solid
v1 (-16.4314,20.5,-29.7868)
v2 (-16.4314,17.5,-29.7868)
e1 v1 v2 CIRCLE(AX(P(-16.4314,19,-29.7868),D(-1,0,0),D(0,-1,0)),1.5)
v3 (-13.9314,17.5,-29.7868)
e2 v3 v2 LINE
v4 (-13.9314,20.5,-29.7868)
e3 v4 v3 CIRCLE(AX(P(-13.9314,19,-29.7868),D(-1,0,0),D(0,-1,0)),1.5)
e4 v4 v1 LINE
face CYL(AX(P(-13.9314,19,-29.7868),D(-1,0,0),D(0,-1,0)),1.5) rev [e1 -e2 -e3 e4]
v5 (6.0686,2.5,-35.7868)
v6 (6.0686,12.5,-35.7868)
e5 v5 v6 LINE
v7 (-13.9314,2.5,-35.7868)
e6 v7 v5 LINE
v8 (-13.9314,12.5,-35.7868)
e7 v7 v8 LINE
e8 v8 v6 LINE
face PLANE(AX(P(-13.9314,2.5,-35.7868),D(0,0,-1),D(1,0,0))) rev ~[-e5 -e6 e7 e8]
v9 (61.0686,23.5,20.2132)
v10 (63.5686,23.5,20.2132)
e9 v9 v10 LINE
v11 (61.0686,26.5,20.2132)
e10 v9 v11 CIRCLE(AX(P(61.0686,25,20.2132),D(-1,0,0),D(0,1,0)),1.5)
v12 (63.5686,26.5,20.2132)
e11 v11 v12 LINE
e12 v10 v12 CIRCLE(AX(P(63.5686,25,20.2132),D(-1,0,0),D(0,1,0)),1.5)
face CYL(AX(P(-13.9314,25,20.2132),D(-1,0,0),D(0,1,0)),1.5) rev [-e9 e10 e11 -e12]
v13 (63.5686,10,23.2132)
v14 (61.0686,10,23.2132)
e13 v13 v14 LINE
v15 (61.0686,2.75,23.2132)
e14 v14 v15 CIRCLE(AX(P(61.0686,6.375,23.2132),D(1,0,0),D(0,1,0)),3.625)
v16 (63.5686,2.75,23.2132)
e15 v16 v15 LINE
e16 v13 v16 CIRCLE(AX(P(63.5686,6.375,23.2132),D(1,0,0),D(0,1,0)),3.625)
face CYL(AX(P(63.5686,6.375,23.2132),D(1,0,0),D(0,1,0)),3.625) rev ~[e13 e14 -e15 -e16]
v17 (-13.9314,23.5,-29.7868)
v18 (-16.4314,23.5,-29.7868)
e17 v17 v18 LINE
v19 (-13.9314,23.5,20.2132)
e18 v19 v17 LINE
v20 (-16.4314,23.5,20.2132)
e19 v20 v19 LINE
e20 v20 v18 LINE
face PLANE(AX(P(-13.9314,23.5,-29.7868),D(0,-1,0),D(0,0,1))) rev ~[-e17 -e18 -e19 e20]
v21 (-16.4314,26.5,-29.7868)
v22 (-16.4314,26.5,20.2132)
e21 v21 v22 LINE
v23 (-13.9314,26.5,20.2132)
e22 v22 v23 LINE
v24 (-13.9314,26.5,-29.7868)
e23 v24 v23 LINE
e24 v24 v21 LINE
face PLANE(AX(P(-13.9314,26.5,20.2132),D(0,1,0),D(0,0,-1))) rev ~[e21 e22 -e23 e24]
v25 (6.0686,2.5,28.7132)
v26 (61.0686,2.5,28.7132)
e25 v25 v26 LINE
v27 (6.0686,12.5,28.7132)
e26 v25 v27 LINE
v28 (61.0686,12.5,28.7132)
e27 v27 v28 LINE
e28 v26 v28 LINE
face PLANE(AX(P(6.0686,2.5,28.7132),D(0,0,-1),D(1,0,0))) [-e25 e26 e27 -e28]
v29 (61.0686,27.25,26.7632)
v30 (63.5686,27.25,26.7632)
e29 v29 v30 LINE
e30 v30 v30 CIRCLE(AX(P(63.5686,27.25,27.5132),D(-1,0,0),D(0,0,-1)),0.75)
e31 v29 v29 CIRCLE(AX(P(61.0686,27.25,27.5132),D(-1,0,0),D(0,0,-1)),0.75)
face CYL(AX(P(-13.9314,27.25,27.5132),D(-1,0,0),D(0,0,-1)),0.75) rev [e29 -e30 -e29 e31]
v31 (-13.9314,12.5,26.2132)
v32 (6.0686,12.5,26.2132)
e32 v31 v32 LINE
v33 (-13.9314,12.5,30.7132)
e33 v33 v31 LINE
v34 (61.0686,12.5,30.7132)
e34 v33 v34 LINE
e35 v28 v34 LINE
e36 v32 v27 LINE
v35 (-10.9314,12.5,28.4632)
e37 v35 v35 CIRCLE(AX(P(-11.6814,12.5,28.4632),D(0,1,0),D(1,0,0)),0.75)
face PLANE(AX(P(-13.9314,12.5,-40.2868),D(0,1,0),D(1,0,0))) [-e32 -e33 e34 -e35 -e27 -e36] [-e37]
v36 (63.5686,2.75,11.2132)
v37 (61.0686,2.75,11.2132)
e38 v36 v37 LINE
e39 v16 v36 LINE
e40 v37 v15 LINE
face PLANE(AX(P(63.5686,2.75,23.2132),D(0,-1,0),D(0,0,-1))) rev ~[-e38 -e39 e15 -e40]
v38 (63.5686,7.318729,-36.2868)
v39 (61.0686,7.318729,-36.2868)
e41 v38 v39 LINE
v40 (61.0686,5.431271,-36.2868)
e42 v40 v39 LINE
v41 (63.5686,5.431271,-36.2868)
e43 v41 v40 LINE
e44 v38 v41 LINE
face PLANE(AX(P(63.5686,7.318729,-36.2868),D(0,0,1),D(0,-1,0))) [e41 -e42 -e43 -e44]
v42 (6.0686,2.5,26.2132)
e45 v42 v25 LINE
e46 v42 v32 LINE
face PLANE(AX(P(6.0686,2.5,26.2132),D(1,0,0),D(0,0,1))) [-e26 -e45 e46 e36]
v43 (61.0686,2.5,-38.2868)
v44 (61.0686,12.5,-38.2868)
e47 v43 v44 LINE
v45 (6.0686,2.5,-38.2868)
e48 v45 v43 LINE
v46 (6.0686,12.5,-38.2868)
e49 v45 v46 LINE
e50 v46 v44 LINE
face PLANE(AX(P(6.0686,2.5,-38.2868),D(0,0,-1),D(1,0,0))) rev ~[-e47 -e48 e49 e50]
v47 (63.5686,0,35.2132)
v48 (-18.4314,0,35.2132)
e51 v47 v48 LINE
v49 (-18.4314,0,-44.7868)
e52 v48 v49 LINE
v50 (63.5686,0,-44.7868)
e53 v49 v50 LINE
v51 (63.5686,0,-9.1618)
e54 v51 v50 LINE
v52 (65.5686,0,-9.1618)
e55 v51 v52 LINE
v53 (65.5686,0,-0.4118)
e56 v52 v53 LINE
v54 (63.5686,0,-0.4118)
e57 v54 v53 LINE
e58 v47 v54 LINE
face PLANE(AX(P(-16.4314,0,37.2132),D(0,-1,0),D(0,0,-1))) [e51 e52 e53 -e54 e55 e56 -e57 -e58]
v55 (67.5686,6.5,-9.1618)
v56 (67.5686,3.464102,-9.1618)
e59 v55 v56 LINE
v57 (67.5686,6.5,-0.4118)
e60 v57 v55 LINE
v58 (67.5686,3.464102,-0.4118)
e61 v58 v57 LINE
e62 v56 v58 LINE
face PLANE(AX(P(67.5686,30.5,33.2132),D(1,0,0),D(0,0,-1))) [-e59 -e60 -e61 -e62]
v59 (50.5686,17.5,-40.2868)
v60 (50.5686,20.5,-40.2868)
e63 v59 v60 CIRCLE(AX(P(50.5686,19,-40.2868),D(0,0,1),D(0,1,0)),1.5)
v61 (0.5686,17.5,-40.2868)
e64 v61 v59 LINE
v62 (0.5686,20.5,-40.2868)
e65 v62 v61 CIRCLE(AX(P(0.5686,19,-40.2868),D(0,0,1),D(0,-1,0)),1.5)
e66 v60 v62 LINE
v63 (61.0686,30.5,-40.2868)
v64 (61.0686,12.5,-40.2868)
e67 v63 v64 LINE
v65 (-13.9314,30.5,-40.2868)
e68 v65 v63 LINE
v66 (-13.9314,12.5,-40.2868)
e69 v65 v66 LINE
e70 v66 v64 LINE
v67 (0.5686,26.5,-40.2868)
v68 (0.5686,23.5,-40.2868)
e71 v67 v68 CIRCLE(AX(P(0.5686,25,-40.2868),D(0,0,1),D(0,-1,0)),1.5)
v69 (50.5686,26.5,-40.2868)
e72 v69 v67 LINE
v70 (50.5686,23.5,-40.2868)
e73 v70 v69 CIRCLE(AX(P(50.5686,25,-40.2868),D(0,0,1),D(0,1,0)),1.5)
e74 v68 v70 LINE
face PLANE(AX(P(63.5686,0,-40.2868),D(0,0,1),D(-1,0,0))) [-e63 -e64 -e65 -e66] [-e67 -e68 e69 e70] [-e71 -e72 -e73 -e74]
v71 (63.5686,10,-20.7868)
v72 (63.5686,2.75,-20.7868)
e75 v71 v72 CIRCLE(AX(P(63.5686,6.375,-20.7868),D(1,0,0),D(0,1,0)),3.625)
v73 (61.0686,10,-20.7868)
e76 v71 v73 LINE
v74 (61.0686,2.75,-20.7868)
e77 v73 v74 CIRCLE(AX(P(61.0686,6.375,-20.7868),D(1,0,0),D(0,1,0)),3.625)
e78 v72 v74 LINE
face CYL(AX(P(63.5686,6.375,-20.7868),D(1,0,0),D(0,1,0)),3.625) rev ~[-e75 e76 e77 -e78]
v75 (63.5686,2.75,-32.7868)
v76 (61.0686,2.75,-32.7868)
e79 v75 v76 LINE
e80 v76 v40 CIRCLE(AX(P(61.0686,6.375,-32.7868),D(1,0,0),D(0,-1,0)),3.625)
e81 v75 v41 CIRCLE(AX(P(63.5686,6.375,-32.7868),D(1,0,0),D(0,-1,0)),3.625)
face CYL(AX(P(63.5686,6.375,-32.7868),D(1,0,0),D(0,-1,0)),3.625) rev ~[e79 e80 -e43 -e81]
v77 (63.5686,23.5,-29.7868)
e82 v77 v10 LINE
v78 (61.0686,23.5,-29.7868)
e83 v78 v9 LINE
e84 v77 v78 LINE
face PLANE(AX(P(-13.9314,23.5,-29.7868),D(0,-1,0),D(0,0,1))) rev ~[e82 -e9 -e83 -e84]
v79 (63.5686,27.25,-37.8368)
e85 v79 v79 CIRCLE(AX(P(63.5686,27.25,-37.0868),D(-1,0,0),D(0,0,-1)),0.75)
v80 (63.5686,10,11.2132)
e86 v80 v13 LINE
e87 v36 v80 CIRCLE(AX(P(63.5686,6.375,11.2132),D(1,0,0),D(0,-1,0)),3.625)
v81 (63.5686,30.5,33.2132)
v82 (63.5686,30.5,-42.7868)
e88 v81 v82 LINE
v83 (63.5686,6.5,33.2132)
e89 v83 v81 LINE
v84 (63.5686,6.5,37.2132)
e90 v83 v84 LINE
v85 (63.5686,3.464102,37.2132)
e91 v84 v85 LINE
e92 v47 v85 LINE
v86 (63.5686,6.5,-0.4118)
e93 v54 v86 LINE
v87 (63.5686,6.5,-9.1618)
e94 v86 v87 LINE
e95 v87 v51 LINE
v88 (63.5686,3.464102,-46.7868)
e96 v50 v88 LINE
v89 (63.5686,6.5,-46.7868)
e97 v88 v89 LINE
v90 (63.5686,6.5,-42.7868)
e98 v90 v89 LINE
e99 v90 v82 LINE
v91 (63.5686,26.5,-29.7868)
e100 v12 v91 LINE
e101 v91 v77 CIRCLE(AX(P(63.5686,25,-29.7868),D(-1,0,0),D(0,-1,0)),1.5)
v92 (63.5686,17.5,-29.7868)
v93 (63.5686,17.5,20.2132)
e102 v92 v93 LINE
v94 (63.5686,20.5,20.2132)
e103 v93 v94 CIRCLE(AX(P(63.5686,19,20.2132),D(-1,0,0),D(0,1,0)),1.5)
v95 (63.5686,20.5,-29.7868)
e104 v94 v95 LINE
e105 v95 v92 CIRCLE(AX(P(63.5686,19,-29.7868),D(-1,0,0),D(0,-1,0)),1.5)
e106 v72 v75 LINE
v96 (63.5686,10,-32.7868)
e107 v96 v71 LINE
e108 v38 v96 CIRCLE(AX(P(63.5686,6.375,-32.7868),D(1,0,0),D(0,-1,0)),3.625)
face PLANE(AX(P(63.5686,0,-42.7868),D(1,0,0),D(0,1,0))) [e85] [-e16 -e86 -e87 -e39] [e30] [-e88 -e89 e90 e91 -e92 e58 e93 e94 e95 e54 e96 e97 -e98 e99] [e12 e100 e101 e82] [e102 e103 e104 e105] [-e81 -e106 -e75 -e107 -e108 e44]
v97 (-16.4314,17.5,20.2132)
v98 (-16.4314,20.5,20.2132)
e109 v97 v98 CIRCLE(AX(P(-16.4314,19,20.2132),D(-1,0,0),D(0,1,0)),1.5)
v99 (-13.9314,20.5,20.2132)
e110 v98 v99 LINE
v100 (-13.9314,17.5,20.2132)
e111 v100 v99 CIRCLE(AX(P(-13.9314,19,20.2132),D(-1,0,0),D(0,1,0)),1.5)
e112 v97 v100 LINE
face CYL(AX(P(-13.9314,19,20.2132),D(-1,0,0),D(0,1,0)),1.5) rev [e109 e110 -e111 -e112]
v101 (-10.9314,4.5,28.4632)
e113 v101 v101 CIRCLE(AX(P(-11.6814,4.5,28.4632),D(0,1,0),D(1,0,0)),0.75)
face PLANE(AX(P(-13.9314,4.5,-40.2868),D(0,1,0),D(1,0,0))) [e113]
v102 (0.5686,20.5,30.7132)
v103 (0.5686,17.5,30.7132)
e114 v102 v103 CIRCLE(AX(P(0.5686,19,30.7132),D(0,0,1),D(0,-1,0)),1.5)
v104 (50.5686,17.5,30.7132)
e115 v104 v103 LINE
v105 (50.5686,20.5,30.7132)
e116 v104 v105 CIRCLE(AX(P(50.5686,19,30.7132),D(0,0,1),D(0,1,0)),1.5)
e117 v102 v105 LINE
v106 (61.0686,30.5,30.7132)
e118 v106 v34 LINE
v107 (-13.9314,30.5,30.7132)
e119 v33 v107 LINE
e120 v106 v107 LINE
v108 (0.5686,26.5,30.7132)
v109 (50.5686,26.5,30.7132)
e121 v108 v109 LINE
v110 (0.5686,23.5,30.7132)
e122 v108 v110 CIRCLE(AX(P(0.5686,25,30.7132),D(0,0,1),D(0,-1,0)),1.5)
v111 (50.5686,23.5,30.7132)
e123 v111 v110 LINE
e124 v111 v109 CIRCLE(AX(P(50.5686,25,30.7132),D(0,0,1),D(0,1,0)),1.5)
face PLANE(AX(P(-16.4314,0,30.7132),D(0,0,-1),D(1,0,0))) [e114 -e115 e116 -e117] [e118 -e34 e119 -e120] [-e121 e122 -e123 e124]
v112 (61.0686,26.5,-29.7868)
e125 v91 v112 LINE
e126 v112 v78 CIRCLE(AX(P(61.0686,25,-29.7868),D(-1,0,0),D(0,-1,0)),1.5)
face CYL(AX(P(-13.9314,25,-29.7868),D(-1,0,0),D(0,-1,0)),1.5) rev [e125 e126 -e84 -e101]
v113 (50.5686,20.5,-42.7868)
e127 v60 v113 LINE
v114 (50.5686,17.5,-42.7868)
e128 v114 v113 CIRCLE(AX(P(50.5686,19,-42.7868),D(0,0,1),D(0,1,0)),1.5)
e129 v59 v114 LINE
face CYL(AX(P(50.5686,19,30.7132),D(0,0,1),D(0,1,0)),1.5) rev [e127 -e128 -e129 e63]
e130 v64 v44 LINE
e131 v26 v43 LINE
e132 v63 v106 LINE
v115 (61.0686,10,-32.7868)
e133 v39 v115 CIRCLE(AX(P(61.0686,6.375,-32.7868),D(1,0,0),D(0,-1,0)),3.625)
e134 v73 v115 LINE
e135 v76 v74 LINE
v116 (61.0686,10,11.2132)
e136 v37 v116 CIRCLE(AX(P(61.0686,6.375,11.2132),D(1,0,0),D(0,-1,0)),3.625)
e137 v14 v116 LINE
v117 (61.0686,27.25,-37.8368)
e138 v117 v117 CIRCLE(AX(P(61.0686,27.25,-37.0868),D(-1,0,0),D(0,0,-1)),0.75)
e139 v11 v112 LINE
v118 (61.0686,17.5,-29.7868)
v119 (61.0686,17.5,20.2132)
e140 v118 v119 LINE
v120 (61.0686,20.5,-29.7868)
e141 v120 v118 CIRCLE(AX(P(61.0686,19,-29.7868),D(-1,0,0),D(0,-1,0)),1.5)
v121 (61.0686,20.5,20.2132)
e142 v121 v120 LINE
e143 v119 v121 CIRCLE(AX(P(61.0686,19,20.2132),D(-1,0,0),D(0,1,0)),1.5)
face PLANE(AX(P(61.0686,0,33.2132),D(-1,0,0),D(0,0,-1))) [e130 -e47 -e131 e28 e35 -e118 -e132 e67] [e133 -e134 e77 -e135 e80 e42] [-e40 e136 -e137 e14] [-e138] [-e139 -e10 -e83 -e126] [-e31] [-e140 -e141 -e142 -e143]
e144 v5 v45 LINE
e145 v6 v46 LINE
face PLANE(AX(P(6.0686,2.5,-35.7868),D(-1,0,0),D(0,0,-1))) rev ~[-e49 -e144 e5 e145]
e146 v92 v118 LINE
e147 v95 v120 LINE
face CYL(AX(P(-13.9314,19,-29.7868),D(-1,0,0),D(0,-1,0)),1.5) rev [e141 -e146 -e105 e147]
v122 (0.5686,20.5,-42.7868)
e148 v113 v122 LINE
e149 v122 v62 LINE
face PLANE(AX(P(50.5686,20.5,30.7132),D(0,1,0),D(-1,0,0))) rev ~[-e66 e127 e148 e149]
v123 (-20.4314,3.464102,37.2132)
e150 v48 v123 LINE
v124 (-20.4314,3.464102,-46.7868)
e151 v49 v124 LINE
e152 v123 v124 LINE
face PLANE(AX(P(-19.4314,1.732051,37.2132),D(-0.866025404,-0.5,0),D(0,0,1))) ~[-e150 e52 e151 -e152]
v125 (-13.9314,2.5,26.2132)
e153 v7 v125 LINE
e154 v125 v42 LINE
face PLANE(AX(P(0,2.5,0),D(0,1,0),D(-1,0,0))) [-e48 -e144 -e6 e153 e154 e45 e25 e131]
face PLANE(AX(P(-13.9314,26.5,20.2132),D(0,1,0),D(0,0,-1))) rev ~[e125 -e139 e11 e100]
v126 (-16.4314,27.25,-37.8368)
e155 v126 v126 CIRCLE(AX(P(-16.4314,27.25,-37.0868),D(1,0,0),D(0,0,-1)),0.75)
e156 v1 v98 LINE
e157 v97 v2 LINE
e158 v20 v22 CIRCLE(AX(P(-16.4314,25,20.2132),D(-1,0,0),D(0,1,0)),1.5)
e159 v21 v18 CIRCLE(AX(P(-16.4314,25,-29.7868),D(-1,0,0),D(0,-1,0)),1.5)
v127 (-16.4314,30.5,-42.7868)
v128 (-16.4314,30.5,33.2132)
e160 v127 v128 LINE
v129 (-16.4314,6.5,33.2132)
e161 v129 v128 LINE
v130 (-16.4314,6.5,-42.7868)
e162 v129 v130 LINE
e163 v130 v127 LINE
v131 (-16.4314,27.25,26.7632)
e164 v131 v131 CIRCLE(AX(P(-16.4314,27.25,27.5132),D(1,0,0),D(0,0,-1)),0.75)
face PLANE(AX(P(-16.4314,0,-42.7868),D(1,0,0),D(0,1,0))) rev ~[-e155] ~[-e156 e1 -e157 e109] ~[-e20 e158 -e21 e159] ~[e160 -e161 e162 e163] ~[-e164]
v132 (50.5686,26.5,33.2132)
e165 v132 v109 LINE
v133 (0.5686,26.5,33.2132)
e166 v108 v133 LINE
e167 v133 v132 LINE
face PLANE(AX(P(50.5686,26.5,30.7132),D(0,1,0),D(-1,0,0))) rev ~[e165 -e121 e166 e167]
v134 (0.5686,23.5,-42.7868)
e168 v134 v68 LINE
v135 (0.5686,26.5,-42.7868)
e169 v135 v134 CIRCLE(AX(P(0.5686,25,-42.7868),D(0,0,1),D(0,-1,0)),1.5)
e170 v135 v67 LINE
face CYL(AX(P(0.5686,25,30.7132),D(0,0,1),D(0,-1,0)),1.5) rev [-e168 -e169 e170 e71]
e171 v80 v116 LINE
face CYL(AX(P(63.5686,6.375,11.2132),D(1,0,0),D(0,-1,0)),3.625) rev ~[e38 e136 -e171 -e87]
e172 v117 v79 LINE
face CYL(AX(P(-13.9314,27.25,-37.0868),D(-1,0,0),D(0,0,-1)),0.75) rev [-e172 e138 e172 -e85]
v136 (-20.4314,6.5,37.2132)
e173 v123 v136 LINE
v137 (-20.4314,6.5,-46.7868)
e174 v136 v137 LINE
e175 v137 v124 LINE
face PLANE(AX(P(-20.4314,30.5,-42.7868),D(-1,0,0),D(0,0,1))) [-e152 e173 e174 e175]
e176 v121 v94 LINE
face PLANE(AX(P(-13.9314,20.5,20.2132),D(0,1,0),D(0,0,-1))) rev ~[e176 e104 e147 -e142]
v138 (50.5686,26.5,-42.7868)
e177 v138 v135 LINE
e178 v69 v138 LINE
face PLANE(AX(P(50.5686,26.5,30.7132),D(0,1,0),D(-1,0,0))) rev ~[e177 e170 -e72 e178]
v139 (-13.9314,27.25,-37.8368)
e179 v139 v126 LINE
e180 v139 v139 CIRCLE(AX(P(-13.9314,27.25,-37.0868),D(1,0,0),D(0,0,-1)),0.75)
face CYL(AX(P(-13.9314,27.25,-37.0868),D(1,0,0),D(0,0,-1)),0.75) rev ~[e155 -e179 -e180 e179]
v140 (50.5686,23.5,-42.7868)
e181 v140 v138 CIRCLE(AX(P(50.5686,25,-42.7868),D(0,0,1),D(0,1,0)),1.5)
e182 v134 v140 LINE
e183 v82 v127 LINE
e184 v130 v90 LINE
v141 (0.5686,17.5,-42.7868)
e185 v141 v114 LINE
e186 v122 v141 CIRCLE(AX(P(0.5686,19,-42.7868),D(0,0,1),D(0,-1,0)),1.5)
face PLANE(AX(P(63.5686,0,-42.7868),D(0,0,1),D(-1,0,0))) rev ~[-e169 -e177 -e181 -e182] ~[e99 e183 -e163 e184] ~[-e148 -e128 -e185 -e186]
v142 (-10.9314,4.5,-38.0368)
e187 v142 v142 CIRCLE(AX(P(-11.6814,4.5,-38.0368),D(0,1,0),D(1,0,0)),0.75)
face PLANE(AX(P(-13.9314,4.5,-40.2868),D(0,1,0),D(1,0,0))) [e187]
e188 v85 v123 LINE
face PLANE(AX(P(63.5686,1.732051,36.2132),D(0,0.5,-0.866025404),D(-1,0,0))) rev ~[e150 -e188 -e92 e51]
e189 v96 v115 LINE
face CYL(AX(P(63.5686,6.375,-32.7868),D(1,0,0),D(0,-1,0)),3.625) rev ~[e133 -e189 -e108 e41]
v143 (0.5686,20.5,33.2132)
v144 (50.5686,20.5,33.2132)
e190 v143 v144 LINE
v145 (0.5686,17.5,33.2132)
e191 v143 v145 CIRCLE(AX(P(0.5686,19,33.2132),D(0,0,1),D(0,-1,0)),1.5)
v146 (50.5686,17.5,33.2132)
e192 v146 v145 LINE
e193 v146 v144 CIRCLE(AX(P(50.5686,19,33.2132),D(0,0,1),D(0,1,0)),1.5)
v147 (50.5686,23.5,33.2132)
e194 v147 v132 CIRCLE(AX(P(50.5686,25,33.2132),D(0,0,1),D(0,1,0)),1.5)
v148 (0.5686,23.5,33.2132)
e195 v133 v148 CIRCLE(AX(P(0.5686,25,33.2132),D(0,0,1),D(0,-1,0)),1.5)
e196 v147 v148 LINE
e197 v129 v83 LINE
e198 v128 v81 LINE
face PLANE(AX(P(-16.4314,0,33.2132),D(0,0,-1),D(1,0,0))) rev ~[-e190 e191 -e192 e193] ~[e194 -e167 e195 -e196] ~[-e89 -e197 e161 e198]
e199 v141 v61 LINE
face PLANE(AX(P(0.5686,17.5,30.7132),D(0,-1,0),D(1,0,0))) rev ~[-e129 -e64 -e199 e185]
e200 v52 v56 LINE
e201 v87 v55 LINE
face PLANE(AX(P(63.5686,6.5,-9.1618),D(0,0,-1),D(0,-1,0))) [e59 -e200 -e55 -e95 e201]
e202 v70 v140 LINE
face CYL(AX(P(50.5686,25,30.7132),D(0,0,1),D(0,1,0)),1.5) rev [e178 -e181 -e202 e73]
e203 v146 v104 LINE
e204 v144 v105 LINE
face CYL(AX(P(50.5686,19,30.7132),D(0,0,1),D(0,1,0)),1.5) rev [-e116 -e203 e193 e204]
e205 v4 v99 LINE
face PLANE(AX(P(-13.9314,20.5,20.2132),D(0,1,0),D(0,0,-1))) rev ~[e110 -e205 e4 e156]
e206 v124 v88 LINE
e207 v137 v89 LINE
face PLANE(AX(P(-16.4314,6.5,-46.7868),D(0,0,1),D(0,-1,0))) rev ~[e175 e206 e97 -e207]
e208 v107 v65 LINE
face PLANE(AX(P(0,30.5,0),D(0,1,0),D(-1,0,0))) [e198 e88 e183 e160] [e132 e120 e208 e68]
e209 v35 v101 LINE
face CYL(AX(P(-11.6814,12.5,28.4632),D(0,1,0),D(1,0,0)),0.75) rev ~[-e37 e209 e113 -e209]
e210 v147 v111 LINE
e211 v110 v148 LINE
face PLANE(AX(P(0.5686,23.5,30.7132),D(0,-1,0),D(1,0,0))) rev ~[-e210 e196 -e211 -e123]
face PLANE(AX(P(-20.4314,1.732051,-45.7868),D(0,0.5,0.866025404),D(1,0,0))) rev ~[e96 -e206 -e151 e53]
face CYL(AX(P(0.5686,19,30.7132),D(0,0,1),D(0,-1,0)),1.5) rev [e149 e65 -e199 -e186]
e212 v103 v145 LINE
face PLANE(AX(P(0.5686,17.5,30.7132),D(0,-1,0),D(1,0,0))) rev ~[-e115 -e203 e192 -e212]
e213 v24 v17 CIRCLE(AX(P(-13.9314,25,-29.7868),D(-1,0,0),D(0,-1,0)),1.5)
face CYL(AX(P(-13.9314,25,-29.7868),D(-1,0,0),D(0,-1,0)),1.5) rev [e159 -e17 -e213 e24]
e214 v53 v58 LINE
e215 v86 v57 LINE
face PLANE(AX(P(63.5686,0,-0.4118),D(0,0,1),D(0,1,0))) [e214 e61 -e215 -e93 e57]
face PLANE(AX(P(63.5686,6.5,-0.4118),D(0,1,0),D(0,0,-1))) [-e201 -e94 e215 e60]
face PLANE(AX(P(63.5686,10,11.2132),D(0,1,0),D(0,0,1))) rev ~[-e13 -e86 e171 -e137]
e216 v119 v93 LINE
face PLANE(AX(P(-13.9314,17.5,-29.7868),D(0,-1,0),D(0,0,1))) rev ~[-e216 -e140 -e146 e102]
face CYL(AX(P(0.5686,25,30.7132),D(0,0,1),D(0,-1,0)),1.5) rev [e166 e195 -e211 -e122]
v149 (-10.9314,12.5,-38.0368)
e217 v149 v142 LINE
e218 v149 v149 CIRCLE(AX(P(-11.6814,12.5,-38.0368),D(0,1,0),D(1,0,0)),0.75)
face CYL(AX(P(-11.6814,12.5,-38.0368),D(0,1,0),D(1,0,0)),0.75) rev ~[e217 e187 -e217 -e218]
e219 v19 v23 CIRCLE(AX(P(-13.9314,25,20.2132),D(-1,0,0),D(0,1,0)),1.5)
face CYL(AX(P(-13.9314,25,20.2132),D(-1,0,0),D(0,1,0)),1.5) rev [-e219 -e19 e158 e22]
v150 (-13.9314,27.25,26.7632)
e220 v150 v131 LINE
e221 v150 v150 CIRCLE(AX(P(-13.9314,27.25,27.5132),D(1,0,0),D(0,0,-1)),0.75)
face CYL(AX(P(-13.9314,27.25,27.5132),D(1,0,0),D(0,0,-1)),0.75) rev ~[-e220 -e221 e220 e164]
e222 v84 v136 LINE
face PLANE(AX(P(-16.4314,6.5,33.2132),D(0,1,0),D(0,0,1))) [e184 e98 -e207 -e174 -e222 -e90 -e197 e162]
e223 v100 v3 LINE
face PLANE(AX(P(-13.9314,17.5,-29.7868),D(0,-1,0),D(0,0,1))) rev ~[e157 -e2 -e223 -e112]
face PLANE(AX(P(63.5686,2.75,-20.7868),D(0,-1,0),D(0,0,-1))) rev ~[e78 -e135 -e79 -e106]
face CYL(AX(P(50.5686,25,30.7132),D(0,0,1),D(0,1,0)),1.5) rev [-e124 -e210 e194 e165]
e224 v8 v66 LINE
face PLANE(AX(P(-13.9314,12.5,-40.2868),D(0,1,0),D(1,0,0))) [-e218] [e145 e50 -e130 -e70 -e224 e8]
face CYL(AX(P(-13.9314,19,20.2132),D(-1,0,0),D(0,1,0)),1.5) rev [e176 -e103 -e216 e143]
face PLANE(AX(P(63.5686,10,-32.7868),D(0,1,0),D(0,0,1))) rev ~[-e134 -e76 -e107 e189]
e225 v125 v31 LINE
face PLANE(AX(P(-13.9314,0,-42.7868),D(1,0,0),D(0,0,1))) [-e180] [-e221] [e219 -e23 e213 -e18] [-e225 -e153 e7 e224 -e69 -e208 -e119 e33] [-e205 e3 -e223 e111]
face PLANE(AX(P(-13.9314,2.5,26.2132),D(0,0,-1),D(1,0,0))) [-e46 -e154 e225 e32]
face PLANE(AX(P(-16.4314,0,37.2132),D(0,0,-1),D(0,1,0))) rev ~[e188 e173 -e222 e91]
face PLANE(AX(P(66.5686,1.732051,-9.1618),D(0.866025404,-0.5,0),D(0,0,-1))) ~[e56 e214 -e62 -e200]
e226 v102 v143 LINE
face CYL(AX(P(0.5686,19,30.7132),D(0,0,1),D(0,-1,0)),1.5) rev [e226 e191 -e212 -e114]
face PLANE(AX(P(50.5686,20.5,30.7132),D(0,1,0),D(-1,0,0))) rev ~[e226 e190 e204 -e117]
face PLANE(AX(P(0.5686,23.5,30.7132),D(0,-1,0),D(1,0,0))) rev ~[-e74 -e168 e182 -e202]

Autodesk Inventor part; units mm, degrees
ref_plane "YZ Plane" through (0, 0, 0) normal (1, 0, 0) x (0, 1, 0)
ref_plane "XZ Plane" through (0, 0, 0) normal (0, 1, 0) x (-1, 0, 0)
ref_plane "XY Plane" through (0, 0, 0) normal (0, 0, 1) x (1, 0, 0)
sketch "Skizze1" plane through (0, 0, 0) normal (0, 1, 0) x (-1, 0, 0)
  line L0 (16.4314, 33.2132) -> (-63.5686, 33.2132)
  line L1 (-63.5686, 33.2132) -> (-63.5686, -42.7868)
  line L2 (-63.5686, -42.7868) -> (16.4314, -42.7868)
  line L3 (16.4314, -42.7868) -> (16.4314, 33.2132)
  point P0 (0, 0)
  dimension "d0" = 76
  dimension "d1" = 80
extrude "Extrusion1" add sketch "Skizze1" along normal blind 30.5
shell "Wandung1" thickness 2.5 removed faces 1 at (36.9019, 30.5, 7.8799)
sketch "Skizze2" plane through (-13.9314, 2.5, -40.2868) normal (0, 1, 0) x (1, 0, 0)
  line L0 (0, -71) -> (0, 0) projected
  line L1 (75, 0) -> (75, -71) projected
  line L2 (75, -71) -> (75, 0) projected
  line L3 (0, 0) -> (0, -71) projected
  line L4 (0, -71) -> (0, -66.5)
  line L5 (0, -66.5) -> (20, -66.5)
  line L6 (20, -66.5) -> (20, -69)
  line L7 (20, -69) -> (75, -69)
  line L8 (75, -69) -> (75, -71)
  line L9 (0, -71) -> (75, -71) projected
  line L10 (0, -35.5) -> (75, -35.5)
  line L11 (0, 0) -> (0, -4.5)
  line L12 (0, -4.5) -> (20, -4.5)
  line L13 (20, -4.5) -> (20, -2)
  line L14 (20, -2) -> (75, -2)
  line L15 (75, -2) -> (75, 0)
  line L16 (0, 0) -> (75, 0)
  point P0 (75, 0)
  point P1 (75, -2)
  point P2 (0, -4.5)
  point P3 (0, -66.5)
  dimension "d35" = 4.5
  dimension "d36" = 2
  dimension "d37" = 20
extrude "Extrusion2" add sketch "Skizze2" along normal blind 10 contours L0 L5 L6 L7 L1 L9 | L0 L16 L1 L14 L13 L12
sketch "Skizze3" plane through (-13.9314, 12.5, -40.2868) normal (0, 1, 0) x (1, 0, 0)
  circle A0 centre (2.25, -68.75) radius 0.75
  line L0 (2.25, -68.75) -> (2.25, -66.5) construction
  line L1 (2.25, -68.75) -> (0, -68.75) construction
  line L2 (0, -71) -> (0, 0) construction
  line L3 (75, 0) -> (75, -71) construction
  line L4 (75, -71) -> (0, -71) construction
  circle A1 centre (2.25, -2.25) radius 0.75
  line L5 (0, 0) -> (75, 0) projected
  point P0 (13.9314, -40.2868)
  dimension "d8" = 1.5
  dimension "d14" = 2.25
  dimension "d38" = 2.25
  dimension "d39" = 2.25
  dimension "d40" = 2.25
extrude "Extrusion3" cut sketch "Skizze3" against normal blind 8
sketch "Skizze6" plane through (63.5686, 0, 33.2132) normal (1, 0, 0) x (0, 0, -1)
  line L0 (69.5, 10) -> (69.5, 2.75)
  line L1 (0, 0) -> (76, 0) projected
  line L2 (76, 0) -> (76, 30.5) projected
  line L3 (0, 0) -> (0, 30.5) projected
  line L4 (10, 6.375) -> (22, 6.375) construction
  line L5 (10, 2.75) -> (22, 2.75)
  line L6 (22, 10) -> (10, 10)
  arc A0 (10, 10) -> (10, 2.75) centre (10, 6.375) ccw
  arc A1 (22, 2.75) -> (22, 10) centre (22, 6.375) ccw
  line L7 (54, 6.375) -> (66, 6.375) construction
  line L8 (54, 2.75) -> (66, 2.75)
  line L9 (66, 10) -> (54, 10)
  arc A2 (54, 10) -> (54, 2.75) centre (54, 6.375) ccw
  arc A3 (66, 2.75) -> (66, 10) centre (66, 6.375) ccw
  point P0 (33.2132, 0)
  point P1 (16, 6.375)
  point P2 (60, 6.375)
  point P3 (69.5, 5.4313)
  point P4 (69.5, 7.3187)
  dimension "d31" = 6.5
  dimension "d59" = 7.25
  dimension "d60" = 2.75
  dimension "d61" = 10
  dimension "d62" = 12
  dimension "d63" = 7.25
  dimension "d64" = 12
  dimension "d65" = 2.75
  dimension "d66" = 10
extrude "Extrusion6" cut sketch "Skizze6" against normal blind 10 contours L0 A3 L8 A2 L9 | A0 L6 A1 L5
sketch "Skizze8" plane through (-13.9314, 30.5, 30.7132) normal (1, 0, 0) x (0, 0, -1)
  circle A0 centre (3.2, -3.25) radius 0.75
  circle A1 centre (67.8, -3.25) radius 0.75
  line L0 (0, -18) -> (0, 0) projected
  line L1 (0, 0) -> (71, 0) projected
  line L2 (71, -18) -> (71, 0) projected
  line L3 (10.5, -5.5) -> (60.5, -5.5) construction
  line L4 (10.5, -4) -> (60.5, -4)
  line L5 (60.5, -7) -> (10.5, -7)
  arc A2 (10.5, -4) -> (10.5, -7) centre (10.5, -5.5) ccw
  arc A3 (60.5, -7) -> (60.5, -4) centre (60.5, -5.5) ccw
  line L6 (10.5, -11.5) -> (60.5, -11.5) construction
  line L7 (10.5, -10) -> (60.5, -10)
  line L8 (60.5, -13) -> (10.5, -13)
  arc A4 (10.5, -10) -> (10.5, -13) centre (10.5, -11.5) ccw
  arc A5 (60.5, -13) -> (60.5, -10) centre (60.5, -11.5) ccw
  point P0 (30.7132, -30.5)
  point P1 (35.5, -5.5)
  point P2 (35.5, -11.5)
  dimension "d43" = 1.5
  dimension "d44" = 3.2
  dimension "d45" = 3.25
  dimension "d46" = 3.2
  dimension "d47" = 3.25
  dimension "d50" = 3
  dimension "d51" = 4
  dimension "d53" = 50
  dimension "d54" = 3
  dimension "d55" = 50
  dimension "d56" = 35.5
  dimension "d57" = 3
  dimension "d58" = 35.5
extrude "Extrusion7" cut sketch "Skizze8" along normal through all both and the other way through all
sketch "Skizze9" plane through (61.0686, 30.5, 30.7132) normal (0, 0, -1) x (-1, 0, 0)
  line L0 (10.5, -5.5) -> (60.5, -5.5) construction
  line L1 (77.5, 0) -> (-2.5, 0) projected
  line L2 (10.5, -4) -> (60.5, -4)
  line L3 (60.5, -7) -> (10.5, -7)
  arc A0 (10.5, -4) -> (10.5, -7) centre (10.5, -5.5) ccw
  arc A1 (60.5, -7) -> (60.5, -4) centre (60.5, -5.5) ccw
  line L4 (0, -18) -> (0, 0) projected
  line L5 (10.5, -11.5) -> (60.5, -11.5) construction
  line L6 (10.5, -10) -> (60.5, -10)
  line L7 (60.5, -13) -> (10.5, -13)
  arc A2 (10.5, -10) -> (10.5, -13) centre (10.5, -11.5) ccw
  arc A3 (60.5, -13) -> (60.5, -10) centre (60.5, -11.5) ccw
  point P0 (61.0686, -30.5)
  point P1 (35.5, -5.5)
  point P2 (35.5, -11.5)
  dimension "d67" = 50
  dimension "d68" = 35.5
  dimension "d69" = 3
  dimension "d70" = 4
  dimension "d71" = 50
  dimension "d72" = 3
  dimension "d73" = 35.5
  dimension "d74" = 3
extrude "Extrusion8" cut sketch "Skizze9" along normal through all both and the other way through all
sketch "Skizze10" plane through (-16.4314, 0, 33.2132) normal (0, 0, 1) x (1, 0, 0)
  line L0 (0, 0) -> (0, 30.5) projected
  line L1 (80, 0) -> (0, 0)
  line L2 (0, 0) -> (0, 6.5)
  line L3 (0, 6.5) -> (80, 6.5)
  line L4 (80, 6.5) -> (80, 0)
  point P0 (16.4314, 0)
  dimension "d77" = 6.5
extrude "Extrusion9" add sketch "Skizze10" along normal blind 4
sketch "Skizze11" plane through (63.5686, 0, -42.7868) normal (0, 0, -1) x (-1, 0, 0)
  line L0 (0, 0) -> (0, 30.5) projected
  line L1 (80, 0) -> (80, 30.5) projected
  line L2 (0, 0) -> (80, 0)
  line L3 (80, 0) -> (80, 6.5)
  line L4 (80, 6.5) -> (0, 6.5)
  line L5 (0, 6.5) -> (0, 0)
  point P0 (63.5686, 0)
  point P1 (0, 6.5)
  dimension "d80" = 6.5
extrude "Extrusion10" add sketch "Skizze11" along normal blind 4
sketch "Skizze12" plane through (-16.4314, 30.5, -42.7868) normal (-1, 0, 0) x (0, 0, 1)
  line L0 (80, -30.5) -> (-4, -30.5) projected
  line L1 (76, -24) -> (80, -24) projected
  line L2 (-4, -30.5) -> (80, -30.5)
  line L3 (80, -30.5) -> (80, -24)
  line L4 (80, -24) -> (-4, -24)
  line L5 (-4, -24) -> (-4, -30.5)
  point P0 (42.7868, -30.5)
extrude "Extrusion11" add sketch "Skizze12" along normal blind 4
sketch "Skizze13" plane through (63.5686, 30.5, 33.2132) normal (1, 0, 0) x (0, 0, -1)
  line L0 (33.625, -24) -> (42.375, -24)
  line L1 (42.375, -24) -> (42.375, -30.5)
  line L2 (42.375, -30.5) -> (33.625, -30.5)
  line L3 (33.625, -30.5) -> (33.625, -24)
  line L4 (-4, -30.5) -> (80, -30.5) projected
  arc A0 (22, -27.75) -> (22, -20.5) centre (22, -24.125) ccw projected
  point P0 (33.2132, -30.5)
  dimension "d85" = 6.5
  dimension "d86" = 8.75
  dimension "d87" = 15.25
extrude "Extrusion12" add sketch "Skizze13" along normal blind 4
chamfer "Fase1" distance 2 angle 60 4 edges at (21.5686, 0, 37.2132) (-20.4314, 0, -4.7868) (21.5686, 0, -46.7868) (67.5686, 0, -4.7868) measured on face at (7.5686, 0, -3.3285)
properties part number "GameFrameRaspiBox1"
